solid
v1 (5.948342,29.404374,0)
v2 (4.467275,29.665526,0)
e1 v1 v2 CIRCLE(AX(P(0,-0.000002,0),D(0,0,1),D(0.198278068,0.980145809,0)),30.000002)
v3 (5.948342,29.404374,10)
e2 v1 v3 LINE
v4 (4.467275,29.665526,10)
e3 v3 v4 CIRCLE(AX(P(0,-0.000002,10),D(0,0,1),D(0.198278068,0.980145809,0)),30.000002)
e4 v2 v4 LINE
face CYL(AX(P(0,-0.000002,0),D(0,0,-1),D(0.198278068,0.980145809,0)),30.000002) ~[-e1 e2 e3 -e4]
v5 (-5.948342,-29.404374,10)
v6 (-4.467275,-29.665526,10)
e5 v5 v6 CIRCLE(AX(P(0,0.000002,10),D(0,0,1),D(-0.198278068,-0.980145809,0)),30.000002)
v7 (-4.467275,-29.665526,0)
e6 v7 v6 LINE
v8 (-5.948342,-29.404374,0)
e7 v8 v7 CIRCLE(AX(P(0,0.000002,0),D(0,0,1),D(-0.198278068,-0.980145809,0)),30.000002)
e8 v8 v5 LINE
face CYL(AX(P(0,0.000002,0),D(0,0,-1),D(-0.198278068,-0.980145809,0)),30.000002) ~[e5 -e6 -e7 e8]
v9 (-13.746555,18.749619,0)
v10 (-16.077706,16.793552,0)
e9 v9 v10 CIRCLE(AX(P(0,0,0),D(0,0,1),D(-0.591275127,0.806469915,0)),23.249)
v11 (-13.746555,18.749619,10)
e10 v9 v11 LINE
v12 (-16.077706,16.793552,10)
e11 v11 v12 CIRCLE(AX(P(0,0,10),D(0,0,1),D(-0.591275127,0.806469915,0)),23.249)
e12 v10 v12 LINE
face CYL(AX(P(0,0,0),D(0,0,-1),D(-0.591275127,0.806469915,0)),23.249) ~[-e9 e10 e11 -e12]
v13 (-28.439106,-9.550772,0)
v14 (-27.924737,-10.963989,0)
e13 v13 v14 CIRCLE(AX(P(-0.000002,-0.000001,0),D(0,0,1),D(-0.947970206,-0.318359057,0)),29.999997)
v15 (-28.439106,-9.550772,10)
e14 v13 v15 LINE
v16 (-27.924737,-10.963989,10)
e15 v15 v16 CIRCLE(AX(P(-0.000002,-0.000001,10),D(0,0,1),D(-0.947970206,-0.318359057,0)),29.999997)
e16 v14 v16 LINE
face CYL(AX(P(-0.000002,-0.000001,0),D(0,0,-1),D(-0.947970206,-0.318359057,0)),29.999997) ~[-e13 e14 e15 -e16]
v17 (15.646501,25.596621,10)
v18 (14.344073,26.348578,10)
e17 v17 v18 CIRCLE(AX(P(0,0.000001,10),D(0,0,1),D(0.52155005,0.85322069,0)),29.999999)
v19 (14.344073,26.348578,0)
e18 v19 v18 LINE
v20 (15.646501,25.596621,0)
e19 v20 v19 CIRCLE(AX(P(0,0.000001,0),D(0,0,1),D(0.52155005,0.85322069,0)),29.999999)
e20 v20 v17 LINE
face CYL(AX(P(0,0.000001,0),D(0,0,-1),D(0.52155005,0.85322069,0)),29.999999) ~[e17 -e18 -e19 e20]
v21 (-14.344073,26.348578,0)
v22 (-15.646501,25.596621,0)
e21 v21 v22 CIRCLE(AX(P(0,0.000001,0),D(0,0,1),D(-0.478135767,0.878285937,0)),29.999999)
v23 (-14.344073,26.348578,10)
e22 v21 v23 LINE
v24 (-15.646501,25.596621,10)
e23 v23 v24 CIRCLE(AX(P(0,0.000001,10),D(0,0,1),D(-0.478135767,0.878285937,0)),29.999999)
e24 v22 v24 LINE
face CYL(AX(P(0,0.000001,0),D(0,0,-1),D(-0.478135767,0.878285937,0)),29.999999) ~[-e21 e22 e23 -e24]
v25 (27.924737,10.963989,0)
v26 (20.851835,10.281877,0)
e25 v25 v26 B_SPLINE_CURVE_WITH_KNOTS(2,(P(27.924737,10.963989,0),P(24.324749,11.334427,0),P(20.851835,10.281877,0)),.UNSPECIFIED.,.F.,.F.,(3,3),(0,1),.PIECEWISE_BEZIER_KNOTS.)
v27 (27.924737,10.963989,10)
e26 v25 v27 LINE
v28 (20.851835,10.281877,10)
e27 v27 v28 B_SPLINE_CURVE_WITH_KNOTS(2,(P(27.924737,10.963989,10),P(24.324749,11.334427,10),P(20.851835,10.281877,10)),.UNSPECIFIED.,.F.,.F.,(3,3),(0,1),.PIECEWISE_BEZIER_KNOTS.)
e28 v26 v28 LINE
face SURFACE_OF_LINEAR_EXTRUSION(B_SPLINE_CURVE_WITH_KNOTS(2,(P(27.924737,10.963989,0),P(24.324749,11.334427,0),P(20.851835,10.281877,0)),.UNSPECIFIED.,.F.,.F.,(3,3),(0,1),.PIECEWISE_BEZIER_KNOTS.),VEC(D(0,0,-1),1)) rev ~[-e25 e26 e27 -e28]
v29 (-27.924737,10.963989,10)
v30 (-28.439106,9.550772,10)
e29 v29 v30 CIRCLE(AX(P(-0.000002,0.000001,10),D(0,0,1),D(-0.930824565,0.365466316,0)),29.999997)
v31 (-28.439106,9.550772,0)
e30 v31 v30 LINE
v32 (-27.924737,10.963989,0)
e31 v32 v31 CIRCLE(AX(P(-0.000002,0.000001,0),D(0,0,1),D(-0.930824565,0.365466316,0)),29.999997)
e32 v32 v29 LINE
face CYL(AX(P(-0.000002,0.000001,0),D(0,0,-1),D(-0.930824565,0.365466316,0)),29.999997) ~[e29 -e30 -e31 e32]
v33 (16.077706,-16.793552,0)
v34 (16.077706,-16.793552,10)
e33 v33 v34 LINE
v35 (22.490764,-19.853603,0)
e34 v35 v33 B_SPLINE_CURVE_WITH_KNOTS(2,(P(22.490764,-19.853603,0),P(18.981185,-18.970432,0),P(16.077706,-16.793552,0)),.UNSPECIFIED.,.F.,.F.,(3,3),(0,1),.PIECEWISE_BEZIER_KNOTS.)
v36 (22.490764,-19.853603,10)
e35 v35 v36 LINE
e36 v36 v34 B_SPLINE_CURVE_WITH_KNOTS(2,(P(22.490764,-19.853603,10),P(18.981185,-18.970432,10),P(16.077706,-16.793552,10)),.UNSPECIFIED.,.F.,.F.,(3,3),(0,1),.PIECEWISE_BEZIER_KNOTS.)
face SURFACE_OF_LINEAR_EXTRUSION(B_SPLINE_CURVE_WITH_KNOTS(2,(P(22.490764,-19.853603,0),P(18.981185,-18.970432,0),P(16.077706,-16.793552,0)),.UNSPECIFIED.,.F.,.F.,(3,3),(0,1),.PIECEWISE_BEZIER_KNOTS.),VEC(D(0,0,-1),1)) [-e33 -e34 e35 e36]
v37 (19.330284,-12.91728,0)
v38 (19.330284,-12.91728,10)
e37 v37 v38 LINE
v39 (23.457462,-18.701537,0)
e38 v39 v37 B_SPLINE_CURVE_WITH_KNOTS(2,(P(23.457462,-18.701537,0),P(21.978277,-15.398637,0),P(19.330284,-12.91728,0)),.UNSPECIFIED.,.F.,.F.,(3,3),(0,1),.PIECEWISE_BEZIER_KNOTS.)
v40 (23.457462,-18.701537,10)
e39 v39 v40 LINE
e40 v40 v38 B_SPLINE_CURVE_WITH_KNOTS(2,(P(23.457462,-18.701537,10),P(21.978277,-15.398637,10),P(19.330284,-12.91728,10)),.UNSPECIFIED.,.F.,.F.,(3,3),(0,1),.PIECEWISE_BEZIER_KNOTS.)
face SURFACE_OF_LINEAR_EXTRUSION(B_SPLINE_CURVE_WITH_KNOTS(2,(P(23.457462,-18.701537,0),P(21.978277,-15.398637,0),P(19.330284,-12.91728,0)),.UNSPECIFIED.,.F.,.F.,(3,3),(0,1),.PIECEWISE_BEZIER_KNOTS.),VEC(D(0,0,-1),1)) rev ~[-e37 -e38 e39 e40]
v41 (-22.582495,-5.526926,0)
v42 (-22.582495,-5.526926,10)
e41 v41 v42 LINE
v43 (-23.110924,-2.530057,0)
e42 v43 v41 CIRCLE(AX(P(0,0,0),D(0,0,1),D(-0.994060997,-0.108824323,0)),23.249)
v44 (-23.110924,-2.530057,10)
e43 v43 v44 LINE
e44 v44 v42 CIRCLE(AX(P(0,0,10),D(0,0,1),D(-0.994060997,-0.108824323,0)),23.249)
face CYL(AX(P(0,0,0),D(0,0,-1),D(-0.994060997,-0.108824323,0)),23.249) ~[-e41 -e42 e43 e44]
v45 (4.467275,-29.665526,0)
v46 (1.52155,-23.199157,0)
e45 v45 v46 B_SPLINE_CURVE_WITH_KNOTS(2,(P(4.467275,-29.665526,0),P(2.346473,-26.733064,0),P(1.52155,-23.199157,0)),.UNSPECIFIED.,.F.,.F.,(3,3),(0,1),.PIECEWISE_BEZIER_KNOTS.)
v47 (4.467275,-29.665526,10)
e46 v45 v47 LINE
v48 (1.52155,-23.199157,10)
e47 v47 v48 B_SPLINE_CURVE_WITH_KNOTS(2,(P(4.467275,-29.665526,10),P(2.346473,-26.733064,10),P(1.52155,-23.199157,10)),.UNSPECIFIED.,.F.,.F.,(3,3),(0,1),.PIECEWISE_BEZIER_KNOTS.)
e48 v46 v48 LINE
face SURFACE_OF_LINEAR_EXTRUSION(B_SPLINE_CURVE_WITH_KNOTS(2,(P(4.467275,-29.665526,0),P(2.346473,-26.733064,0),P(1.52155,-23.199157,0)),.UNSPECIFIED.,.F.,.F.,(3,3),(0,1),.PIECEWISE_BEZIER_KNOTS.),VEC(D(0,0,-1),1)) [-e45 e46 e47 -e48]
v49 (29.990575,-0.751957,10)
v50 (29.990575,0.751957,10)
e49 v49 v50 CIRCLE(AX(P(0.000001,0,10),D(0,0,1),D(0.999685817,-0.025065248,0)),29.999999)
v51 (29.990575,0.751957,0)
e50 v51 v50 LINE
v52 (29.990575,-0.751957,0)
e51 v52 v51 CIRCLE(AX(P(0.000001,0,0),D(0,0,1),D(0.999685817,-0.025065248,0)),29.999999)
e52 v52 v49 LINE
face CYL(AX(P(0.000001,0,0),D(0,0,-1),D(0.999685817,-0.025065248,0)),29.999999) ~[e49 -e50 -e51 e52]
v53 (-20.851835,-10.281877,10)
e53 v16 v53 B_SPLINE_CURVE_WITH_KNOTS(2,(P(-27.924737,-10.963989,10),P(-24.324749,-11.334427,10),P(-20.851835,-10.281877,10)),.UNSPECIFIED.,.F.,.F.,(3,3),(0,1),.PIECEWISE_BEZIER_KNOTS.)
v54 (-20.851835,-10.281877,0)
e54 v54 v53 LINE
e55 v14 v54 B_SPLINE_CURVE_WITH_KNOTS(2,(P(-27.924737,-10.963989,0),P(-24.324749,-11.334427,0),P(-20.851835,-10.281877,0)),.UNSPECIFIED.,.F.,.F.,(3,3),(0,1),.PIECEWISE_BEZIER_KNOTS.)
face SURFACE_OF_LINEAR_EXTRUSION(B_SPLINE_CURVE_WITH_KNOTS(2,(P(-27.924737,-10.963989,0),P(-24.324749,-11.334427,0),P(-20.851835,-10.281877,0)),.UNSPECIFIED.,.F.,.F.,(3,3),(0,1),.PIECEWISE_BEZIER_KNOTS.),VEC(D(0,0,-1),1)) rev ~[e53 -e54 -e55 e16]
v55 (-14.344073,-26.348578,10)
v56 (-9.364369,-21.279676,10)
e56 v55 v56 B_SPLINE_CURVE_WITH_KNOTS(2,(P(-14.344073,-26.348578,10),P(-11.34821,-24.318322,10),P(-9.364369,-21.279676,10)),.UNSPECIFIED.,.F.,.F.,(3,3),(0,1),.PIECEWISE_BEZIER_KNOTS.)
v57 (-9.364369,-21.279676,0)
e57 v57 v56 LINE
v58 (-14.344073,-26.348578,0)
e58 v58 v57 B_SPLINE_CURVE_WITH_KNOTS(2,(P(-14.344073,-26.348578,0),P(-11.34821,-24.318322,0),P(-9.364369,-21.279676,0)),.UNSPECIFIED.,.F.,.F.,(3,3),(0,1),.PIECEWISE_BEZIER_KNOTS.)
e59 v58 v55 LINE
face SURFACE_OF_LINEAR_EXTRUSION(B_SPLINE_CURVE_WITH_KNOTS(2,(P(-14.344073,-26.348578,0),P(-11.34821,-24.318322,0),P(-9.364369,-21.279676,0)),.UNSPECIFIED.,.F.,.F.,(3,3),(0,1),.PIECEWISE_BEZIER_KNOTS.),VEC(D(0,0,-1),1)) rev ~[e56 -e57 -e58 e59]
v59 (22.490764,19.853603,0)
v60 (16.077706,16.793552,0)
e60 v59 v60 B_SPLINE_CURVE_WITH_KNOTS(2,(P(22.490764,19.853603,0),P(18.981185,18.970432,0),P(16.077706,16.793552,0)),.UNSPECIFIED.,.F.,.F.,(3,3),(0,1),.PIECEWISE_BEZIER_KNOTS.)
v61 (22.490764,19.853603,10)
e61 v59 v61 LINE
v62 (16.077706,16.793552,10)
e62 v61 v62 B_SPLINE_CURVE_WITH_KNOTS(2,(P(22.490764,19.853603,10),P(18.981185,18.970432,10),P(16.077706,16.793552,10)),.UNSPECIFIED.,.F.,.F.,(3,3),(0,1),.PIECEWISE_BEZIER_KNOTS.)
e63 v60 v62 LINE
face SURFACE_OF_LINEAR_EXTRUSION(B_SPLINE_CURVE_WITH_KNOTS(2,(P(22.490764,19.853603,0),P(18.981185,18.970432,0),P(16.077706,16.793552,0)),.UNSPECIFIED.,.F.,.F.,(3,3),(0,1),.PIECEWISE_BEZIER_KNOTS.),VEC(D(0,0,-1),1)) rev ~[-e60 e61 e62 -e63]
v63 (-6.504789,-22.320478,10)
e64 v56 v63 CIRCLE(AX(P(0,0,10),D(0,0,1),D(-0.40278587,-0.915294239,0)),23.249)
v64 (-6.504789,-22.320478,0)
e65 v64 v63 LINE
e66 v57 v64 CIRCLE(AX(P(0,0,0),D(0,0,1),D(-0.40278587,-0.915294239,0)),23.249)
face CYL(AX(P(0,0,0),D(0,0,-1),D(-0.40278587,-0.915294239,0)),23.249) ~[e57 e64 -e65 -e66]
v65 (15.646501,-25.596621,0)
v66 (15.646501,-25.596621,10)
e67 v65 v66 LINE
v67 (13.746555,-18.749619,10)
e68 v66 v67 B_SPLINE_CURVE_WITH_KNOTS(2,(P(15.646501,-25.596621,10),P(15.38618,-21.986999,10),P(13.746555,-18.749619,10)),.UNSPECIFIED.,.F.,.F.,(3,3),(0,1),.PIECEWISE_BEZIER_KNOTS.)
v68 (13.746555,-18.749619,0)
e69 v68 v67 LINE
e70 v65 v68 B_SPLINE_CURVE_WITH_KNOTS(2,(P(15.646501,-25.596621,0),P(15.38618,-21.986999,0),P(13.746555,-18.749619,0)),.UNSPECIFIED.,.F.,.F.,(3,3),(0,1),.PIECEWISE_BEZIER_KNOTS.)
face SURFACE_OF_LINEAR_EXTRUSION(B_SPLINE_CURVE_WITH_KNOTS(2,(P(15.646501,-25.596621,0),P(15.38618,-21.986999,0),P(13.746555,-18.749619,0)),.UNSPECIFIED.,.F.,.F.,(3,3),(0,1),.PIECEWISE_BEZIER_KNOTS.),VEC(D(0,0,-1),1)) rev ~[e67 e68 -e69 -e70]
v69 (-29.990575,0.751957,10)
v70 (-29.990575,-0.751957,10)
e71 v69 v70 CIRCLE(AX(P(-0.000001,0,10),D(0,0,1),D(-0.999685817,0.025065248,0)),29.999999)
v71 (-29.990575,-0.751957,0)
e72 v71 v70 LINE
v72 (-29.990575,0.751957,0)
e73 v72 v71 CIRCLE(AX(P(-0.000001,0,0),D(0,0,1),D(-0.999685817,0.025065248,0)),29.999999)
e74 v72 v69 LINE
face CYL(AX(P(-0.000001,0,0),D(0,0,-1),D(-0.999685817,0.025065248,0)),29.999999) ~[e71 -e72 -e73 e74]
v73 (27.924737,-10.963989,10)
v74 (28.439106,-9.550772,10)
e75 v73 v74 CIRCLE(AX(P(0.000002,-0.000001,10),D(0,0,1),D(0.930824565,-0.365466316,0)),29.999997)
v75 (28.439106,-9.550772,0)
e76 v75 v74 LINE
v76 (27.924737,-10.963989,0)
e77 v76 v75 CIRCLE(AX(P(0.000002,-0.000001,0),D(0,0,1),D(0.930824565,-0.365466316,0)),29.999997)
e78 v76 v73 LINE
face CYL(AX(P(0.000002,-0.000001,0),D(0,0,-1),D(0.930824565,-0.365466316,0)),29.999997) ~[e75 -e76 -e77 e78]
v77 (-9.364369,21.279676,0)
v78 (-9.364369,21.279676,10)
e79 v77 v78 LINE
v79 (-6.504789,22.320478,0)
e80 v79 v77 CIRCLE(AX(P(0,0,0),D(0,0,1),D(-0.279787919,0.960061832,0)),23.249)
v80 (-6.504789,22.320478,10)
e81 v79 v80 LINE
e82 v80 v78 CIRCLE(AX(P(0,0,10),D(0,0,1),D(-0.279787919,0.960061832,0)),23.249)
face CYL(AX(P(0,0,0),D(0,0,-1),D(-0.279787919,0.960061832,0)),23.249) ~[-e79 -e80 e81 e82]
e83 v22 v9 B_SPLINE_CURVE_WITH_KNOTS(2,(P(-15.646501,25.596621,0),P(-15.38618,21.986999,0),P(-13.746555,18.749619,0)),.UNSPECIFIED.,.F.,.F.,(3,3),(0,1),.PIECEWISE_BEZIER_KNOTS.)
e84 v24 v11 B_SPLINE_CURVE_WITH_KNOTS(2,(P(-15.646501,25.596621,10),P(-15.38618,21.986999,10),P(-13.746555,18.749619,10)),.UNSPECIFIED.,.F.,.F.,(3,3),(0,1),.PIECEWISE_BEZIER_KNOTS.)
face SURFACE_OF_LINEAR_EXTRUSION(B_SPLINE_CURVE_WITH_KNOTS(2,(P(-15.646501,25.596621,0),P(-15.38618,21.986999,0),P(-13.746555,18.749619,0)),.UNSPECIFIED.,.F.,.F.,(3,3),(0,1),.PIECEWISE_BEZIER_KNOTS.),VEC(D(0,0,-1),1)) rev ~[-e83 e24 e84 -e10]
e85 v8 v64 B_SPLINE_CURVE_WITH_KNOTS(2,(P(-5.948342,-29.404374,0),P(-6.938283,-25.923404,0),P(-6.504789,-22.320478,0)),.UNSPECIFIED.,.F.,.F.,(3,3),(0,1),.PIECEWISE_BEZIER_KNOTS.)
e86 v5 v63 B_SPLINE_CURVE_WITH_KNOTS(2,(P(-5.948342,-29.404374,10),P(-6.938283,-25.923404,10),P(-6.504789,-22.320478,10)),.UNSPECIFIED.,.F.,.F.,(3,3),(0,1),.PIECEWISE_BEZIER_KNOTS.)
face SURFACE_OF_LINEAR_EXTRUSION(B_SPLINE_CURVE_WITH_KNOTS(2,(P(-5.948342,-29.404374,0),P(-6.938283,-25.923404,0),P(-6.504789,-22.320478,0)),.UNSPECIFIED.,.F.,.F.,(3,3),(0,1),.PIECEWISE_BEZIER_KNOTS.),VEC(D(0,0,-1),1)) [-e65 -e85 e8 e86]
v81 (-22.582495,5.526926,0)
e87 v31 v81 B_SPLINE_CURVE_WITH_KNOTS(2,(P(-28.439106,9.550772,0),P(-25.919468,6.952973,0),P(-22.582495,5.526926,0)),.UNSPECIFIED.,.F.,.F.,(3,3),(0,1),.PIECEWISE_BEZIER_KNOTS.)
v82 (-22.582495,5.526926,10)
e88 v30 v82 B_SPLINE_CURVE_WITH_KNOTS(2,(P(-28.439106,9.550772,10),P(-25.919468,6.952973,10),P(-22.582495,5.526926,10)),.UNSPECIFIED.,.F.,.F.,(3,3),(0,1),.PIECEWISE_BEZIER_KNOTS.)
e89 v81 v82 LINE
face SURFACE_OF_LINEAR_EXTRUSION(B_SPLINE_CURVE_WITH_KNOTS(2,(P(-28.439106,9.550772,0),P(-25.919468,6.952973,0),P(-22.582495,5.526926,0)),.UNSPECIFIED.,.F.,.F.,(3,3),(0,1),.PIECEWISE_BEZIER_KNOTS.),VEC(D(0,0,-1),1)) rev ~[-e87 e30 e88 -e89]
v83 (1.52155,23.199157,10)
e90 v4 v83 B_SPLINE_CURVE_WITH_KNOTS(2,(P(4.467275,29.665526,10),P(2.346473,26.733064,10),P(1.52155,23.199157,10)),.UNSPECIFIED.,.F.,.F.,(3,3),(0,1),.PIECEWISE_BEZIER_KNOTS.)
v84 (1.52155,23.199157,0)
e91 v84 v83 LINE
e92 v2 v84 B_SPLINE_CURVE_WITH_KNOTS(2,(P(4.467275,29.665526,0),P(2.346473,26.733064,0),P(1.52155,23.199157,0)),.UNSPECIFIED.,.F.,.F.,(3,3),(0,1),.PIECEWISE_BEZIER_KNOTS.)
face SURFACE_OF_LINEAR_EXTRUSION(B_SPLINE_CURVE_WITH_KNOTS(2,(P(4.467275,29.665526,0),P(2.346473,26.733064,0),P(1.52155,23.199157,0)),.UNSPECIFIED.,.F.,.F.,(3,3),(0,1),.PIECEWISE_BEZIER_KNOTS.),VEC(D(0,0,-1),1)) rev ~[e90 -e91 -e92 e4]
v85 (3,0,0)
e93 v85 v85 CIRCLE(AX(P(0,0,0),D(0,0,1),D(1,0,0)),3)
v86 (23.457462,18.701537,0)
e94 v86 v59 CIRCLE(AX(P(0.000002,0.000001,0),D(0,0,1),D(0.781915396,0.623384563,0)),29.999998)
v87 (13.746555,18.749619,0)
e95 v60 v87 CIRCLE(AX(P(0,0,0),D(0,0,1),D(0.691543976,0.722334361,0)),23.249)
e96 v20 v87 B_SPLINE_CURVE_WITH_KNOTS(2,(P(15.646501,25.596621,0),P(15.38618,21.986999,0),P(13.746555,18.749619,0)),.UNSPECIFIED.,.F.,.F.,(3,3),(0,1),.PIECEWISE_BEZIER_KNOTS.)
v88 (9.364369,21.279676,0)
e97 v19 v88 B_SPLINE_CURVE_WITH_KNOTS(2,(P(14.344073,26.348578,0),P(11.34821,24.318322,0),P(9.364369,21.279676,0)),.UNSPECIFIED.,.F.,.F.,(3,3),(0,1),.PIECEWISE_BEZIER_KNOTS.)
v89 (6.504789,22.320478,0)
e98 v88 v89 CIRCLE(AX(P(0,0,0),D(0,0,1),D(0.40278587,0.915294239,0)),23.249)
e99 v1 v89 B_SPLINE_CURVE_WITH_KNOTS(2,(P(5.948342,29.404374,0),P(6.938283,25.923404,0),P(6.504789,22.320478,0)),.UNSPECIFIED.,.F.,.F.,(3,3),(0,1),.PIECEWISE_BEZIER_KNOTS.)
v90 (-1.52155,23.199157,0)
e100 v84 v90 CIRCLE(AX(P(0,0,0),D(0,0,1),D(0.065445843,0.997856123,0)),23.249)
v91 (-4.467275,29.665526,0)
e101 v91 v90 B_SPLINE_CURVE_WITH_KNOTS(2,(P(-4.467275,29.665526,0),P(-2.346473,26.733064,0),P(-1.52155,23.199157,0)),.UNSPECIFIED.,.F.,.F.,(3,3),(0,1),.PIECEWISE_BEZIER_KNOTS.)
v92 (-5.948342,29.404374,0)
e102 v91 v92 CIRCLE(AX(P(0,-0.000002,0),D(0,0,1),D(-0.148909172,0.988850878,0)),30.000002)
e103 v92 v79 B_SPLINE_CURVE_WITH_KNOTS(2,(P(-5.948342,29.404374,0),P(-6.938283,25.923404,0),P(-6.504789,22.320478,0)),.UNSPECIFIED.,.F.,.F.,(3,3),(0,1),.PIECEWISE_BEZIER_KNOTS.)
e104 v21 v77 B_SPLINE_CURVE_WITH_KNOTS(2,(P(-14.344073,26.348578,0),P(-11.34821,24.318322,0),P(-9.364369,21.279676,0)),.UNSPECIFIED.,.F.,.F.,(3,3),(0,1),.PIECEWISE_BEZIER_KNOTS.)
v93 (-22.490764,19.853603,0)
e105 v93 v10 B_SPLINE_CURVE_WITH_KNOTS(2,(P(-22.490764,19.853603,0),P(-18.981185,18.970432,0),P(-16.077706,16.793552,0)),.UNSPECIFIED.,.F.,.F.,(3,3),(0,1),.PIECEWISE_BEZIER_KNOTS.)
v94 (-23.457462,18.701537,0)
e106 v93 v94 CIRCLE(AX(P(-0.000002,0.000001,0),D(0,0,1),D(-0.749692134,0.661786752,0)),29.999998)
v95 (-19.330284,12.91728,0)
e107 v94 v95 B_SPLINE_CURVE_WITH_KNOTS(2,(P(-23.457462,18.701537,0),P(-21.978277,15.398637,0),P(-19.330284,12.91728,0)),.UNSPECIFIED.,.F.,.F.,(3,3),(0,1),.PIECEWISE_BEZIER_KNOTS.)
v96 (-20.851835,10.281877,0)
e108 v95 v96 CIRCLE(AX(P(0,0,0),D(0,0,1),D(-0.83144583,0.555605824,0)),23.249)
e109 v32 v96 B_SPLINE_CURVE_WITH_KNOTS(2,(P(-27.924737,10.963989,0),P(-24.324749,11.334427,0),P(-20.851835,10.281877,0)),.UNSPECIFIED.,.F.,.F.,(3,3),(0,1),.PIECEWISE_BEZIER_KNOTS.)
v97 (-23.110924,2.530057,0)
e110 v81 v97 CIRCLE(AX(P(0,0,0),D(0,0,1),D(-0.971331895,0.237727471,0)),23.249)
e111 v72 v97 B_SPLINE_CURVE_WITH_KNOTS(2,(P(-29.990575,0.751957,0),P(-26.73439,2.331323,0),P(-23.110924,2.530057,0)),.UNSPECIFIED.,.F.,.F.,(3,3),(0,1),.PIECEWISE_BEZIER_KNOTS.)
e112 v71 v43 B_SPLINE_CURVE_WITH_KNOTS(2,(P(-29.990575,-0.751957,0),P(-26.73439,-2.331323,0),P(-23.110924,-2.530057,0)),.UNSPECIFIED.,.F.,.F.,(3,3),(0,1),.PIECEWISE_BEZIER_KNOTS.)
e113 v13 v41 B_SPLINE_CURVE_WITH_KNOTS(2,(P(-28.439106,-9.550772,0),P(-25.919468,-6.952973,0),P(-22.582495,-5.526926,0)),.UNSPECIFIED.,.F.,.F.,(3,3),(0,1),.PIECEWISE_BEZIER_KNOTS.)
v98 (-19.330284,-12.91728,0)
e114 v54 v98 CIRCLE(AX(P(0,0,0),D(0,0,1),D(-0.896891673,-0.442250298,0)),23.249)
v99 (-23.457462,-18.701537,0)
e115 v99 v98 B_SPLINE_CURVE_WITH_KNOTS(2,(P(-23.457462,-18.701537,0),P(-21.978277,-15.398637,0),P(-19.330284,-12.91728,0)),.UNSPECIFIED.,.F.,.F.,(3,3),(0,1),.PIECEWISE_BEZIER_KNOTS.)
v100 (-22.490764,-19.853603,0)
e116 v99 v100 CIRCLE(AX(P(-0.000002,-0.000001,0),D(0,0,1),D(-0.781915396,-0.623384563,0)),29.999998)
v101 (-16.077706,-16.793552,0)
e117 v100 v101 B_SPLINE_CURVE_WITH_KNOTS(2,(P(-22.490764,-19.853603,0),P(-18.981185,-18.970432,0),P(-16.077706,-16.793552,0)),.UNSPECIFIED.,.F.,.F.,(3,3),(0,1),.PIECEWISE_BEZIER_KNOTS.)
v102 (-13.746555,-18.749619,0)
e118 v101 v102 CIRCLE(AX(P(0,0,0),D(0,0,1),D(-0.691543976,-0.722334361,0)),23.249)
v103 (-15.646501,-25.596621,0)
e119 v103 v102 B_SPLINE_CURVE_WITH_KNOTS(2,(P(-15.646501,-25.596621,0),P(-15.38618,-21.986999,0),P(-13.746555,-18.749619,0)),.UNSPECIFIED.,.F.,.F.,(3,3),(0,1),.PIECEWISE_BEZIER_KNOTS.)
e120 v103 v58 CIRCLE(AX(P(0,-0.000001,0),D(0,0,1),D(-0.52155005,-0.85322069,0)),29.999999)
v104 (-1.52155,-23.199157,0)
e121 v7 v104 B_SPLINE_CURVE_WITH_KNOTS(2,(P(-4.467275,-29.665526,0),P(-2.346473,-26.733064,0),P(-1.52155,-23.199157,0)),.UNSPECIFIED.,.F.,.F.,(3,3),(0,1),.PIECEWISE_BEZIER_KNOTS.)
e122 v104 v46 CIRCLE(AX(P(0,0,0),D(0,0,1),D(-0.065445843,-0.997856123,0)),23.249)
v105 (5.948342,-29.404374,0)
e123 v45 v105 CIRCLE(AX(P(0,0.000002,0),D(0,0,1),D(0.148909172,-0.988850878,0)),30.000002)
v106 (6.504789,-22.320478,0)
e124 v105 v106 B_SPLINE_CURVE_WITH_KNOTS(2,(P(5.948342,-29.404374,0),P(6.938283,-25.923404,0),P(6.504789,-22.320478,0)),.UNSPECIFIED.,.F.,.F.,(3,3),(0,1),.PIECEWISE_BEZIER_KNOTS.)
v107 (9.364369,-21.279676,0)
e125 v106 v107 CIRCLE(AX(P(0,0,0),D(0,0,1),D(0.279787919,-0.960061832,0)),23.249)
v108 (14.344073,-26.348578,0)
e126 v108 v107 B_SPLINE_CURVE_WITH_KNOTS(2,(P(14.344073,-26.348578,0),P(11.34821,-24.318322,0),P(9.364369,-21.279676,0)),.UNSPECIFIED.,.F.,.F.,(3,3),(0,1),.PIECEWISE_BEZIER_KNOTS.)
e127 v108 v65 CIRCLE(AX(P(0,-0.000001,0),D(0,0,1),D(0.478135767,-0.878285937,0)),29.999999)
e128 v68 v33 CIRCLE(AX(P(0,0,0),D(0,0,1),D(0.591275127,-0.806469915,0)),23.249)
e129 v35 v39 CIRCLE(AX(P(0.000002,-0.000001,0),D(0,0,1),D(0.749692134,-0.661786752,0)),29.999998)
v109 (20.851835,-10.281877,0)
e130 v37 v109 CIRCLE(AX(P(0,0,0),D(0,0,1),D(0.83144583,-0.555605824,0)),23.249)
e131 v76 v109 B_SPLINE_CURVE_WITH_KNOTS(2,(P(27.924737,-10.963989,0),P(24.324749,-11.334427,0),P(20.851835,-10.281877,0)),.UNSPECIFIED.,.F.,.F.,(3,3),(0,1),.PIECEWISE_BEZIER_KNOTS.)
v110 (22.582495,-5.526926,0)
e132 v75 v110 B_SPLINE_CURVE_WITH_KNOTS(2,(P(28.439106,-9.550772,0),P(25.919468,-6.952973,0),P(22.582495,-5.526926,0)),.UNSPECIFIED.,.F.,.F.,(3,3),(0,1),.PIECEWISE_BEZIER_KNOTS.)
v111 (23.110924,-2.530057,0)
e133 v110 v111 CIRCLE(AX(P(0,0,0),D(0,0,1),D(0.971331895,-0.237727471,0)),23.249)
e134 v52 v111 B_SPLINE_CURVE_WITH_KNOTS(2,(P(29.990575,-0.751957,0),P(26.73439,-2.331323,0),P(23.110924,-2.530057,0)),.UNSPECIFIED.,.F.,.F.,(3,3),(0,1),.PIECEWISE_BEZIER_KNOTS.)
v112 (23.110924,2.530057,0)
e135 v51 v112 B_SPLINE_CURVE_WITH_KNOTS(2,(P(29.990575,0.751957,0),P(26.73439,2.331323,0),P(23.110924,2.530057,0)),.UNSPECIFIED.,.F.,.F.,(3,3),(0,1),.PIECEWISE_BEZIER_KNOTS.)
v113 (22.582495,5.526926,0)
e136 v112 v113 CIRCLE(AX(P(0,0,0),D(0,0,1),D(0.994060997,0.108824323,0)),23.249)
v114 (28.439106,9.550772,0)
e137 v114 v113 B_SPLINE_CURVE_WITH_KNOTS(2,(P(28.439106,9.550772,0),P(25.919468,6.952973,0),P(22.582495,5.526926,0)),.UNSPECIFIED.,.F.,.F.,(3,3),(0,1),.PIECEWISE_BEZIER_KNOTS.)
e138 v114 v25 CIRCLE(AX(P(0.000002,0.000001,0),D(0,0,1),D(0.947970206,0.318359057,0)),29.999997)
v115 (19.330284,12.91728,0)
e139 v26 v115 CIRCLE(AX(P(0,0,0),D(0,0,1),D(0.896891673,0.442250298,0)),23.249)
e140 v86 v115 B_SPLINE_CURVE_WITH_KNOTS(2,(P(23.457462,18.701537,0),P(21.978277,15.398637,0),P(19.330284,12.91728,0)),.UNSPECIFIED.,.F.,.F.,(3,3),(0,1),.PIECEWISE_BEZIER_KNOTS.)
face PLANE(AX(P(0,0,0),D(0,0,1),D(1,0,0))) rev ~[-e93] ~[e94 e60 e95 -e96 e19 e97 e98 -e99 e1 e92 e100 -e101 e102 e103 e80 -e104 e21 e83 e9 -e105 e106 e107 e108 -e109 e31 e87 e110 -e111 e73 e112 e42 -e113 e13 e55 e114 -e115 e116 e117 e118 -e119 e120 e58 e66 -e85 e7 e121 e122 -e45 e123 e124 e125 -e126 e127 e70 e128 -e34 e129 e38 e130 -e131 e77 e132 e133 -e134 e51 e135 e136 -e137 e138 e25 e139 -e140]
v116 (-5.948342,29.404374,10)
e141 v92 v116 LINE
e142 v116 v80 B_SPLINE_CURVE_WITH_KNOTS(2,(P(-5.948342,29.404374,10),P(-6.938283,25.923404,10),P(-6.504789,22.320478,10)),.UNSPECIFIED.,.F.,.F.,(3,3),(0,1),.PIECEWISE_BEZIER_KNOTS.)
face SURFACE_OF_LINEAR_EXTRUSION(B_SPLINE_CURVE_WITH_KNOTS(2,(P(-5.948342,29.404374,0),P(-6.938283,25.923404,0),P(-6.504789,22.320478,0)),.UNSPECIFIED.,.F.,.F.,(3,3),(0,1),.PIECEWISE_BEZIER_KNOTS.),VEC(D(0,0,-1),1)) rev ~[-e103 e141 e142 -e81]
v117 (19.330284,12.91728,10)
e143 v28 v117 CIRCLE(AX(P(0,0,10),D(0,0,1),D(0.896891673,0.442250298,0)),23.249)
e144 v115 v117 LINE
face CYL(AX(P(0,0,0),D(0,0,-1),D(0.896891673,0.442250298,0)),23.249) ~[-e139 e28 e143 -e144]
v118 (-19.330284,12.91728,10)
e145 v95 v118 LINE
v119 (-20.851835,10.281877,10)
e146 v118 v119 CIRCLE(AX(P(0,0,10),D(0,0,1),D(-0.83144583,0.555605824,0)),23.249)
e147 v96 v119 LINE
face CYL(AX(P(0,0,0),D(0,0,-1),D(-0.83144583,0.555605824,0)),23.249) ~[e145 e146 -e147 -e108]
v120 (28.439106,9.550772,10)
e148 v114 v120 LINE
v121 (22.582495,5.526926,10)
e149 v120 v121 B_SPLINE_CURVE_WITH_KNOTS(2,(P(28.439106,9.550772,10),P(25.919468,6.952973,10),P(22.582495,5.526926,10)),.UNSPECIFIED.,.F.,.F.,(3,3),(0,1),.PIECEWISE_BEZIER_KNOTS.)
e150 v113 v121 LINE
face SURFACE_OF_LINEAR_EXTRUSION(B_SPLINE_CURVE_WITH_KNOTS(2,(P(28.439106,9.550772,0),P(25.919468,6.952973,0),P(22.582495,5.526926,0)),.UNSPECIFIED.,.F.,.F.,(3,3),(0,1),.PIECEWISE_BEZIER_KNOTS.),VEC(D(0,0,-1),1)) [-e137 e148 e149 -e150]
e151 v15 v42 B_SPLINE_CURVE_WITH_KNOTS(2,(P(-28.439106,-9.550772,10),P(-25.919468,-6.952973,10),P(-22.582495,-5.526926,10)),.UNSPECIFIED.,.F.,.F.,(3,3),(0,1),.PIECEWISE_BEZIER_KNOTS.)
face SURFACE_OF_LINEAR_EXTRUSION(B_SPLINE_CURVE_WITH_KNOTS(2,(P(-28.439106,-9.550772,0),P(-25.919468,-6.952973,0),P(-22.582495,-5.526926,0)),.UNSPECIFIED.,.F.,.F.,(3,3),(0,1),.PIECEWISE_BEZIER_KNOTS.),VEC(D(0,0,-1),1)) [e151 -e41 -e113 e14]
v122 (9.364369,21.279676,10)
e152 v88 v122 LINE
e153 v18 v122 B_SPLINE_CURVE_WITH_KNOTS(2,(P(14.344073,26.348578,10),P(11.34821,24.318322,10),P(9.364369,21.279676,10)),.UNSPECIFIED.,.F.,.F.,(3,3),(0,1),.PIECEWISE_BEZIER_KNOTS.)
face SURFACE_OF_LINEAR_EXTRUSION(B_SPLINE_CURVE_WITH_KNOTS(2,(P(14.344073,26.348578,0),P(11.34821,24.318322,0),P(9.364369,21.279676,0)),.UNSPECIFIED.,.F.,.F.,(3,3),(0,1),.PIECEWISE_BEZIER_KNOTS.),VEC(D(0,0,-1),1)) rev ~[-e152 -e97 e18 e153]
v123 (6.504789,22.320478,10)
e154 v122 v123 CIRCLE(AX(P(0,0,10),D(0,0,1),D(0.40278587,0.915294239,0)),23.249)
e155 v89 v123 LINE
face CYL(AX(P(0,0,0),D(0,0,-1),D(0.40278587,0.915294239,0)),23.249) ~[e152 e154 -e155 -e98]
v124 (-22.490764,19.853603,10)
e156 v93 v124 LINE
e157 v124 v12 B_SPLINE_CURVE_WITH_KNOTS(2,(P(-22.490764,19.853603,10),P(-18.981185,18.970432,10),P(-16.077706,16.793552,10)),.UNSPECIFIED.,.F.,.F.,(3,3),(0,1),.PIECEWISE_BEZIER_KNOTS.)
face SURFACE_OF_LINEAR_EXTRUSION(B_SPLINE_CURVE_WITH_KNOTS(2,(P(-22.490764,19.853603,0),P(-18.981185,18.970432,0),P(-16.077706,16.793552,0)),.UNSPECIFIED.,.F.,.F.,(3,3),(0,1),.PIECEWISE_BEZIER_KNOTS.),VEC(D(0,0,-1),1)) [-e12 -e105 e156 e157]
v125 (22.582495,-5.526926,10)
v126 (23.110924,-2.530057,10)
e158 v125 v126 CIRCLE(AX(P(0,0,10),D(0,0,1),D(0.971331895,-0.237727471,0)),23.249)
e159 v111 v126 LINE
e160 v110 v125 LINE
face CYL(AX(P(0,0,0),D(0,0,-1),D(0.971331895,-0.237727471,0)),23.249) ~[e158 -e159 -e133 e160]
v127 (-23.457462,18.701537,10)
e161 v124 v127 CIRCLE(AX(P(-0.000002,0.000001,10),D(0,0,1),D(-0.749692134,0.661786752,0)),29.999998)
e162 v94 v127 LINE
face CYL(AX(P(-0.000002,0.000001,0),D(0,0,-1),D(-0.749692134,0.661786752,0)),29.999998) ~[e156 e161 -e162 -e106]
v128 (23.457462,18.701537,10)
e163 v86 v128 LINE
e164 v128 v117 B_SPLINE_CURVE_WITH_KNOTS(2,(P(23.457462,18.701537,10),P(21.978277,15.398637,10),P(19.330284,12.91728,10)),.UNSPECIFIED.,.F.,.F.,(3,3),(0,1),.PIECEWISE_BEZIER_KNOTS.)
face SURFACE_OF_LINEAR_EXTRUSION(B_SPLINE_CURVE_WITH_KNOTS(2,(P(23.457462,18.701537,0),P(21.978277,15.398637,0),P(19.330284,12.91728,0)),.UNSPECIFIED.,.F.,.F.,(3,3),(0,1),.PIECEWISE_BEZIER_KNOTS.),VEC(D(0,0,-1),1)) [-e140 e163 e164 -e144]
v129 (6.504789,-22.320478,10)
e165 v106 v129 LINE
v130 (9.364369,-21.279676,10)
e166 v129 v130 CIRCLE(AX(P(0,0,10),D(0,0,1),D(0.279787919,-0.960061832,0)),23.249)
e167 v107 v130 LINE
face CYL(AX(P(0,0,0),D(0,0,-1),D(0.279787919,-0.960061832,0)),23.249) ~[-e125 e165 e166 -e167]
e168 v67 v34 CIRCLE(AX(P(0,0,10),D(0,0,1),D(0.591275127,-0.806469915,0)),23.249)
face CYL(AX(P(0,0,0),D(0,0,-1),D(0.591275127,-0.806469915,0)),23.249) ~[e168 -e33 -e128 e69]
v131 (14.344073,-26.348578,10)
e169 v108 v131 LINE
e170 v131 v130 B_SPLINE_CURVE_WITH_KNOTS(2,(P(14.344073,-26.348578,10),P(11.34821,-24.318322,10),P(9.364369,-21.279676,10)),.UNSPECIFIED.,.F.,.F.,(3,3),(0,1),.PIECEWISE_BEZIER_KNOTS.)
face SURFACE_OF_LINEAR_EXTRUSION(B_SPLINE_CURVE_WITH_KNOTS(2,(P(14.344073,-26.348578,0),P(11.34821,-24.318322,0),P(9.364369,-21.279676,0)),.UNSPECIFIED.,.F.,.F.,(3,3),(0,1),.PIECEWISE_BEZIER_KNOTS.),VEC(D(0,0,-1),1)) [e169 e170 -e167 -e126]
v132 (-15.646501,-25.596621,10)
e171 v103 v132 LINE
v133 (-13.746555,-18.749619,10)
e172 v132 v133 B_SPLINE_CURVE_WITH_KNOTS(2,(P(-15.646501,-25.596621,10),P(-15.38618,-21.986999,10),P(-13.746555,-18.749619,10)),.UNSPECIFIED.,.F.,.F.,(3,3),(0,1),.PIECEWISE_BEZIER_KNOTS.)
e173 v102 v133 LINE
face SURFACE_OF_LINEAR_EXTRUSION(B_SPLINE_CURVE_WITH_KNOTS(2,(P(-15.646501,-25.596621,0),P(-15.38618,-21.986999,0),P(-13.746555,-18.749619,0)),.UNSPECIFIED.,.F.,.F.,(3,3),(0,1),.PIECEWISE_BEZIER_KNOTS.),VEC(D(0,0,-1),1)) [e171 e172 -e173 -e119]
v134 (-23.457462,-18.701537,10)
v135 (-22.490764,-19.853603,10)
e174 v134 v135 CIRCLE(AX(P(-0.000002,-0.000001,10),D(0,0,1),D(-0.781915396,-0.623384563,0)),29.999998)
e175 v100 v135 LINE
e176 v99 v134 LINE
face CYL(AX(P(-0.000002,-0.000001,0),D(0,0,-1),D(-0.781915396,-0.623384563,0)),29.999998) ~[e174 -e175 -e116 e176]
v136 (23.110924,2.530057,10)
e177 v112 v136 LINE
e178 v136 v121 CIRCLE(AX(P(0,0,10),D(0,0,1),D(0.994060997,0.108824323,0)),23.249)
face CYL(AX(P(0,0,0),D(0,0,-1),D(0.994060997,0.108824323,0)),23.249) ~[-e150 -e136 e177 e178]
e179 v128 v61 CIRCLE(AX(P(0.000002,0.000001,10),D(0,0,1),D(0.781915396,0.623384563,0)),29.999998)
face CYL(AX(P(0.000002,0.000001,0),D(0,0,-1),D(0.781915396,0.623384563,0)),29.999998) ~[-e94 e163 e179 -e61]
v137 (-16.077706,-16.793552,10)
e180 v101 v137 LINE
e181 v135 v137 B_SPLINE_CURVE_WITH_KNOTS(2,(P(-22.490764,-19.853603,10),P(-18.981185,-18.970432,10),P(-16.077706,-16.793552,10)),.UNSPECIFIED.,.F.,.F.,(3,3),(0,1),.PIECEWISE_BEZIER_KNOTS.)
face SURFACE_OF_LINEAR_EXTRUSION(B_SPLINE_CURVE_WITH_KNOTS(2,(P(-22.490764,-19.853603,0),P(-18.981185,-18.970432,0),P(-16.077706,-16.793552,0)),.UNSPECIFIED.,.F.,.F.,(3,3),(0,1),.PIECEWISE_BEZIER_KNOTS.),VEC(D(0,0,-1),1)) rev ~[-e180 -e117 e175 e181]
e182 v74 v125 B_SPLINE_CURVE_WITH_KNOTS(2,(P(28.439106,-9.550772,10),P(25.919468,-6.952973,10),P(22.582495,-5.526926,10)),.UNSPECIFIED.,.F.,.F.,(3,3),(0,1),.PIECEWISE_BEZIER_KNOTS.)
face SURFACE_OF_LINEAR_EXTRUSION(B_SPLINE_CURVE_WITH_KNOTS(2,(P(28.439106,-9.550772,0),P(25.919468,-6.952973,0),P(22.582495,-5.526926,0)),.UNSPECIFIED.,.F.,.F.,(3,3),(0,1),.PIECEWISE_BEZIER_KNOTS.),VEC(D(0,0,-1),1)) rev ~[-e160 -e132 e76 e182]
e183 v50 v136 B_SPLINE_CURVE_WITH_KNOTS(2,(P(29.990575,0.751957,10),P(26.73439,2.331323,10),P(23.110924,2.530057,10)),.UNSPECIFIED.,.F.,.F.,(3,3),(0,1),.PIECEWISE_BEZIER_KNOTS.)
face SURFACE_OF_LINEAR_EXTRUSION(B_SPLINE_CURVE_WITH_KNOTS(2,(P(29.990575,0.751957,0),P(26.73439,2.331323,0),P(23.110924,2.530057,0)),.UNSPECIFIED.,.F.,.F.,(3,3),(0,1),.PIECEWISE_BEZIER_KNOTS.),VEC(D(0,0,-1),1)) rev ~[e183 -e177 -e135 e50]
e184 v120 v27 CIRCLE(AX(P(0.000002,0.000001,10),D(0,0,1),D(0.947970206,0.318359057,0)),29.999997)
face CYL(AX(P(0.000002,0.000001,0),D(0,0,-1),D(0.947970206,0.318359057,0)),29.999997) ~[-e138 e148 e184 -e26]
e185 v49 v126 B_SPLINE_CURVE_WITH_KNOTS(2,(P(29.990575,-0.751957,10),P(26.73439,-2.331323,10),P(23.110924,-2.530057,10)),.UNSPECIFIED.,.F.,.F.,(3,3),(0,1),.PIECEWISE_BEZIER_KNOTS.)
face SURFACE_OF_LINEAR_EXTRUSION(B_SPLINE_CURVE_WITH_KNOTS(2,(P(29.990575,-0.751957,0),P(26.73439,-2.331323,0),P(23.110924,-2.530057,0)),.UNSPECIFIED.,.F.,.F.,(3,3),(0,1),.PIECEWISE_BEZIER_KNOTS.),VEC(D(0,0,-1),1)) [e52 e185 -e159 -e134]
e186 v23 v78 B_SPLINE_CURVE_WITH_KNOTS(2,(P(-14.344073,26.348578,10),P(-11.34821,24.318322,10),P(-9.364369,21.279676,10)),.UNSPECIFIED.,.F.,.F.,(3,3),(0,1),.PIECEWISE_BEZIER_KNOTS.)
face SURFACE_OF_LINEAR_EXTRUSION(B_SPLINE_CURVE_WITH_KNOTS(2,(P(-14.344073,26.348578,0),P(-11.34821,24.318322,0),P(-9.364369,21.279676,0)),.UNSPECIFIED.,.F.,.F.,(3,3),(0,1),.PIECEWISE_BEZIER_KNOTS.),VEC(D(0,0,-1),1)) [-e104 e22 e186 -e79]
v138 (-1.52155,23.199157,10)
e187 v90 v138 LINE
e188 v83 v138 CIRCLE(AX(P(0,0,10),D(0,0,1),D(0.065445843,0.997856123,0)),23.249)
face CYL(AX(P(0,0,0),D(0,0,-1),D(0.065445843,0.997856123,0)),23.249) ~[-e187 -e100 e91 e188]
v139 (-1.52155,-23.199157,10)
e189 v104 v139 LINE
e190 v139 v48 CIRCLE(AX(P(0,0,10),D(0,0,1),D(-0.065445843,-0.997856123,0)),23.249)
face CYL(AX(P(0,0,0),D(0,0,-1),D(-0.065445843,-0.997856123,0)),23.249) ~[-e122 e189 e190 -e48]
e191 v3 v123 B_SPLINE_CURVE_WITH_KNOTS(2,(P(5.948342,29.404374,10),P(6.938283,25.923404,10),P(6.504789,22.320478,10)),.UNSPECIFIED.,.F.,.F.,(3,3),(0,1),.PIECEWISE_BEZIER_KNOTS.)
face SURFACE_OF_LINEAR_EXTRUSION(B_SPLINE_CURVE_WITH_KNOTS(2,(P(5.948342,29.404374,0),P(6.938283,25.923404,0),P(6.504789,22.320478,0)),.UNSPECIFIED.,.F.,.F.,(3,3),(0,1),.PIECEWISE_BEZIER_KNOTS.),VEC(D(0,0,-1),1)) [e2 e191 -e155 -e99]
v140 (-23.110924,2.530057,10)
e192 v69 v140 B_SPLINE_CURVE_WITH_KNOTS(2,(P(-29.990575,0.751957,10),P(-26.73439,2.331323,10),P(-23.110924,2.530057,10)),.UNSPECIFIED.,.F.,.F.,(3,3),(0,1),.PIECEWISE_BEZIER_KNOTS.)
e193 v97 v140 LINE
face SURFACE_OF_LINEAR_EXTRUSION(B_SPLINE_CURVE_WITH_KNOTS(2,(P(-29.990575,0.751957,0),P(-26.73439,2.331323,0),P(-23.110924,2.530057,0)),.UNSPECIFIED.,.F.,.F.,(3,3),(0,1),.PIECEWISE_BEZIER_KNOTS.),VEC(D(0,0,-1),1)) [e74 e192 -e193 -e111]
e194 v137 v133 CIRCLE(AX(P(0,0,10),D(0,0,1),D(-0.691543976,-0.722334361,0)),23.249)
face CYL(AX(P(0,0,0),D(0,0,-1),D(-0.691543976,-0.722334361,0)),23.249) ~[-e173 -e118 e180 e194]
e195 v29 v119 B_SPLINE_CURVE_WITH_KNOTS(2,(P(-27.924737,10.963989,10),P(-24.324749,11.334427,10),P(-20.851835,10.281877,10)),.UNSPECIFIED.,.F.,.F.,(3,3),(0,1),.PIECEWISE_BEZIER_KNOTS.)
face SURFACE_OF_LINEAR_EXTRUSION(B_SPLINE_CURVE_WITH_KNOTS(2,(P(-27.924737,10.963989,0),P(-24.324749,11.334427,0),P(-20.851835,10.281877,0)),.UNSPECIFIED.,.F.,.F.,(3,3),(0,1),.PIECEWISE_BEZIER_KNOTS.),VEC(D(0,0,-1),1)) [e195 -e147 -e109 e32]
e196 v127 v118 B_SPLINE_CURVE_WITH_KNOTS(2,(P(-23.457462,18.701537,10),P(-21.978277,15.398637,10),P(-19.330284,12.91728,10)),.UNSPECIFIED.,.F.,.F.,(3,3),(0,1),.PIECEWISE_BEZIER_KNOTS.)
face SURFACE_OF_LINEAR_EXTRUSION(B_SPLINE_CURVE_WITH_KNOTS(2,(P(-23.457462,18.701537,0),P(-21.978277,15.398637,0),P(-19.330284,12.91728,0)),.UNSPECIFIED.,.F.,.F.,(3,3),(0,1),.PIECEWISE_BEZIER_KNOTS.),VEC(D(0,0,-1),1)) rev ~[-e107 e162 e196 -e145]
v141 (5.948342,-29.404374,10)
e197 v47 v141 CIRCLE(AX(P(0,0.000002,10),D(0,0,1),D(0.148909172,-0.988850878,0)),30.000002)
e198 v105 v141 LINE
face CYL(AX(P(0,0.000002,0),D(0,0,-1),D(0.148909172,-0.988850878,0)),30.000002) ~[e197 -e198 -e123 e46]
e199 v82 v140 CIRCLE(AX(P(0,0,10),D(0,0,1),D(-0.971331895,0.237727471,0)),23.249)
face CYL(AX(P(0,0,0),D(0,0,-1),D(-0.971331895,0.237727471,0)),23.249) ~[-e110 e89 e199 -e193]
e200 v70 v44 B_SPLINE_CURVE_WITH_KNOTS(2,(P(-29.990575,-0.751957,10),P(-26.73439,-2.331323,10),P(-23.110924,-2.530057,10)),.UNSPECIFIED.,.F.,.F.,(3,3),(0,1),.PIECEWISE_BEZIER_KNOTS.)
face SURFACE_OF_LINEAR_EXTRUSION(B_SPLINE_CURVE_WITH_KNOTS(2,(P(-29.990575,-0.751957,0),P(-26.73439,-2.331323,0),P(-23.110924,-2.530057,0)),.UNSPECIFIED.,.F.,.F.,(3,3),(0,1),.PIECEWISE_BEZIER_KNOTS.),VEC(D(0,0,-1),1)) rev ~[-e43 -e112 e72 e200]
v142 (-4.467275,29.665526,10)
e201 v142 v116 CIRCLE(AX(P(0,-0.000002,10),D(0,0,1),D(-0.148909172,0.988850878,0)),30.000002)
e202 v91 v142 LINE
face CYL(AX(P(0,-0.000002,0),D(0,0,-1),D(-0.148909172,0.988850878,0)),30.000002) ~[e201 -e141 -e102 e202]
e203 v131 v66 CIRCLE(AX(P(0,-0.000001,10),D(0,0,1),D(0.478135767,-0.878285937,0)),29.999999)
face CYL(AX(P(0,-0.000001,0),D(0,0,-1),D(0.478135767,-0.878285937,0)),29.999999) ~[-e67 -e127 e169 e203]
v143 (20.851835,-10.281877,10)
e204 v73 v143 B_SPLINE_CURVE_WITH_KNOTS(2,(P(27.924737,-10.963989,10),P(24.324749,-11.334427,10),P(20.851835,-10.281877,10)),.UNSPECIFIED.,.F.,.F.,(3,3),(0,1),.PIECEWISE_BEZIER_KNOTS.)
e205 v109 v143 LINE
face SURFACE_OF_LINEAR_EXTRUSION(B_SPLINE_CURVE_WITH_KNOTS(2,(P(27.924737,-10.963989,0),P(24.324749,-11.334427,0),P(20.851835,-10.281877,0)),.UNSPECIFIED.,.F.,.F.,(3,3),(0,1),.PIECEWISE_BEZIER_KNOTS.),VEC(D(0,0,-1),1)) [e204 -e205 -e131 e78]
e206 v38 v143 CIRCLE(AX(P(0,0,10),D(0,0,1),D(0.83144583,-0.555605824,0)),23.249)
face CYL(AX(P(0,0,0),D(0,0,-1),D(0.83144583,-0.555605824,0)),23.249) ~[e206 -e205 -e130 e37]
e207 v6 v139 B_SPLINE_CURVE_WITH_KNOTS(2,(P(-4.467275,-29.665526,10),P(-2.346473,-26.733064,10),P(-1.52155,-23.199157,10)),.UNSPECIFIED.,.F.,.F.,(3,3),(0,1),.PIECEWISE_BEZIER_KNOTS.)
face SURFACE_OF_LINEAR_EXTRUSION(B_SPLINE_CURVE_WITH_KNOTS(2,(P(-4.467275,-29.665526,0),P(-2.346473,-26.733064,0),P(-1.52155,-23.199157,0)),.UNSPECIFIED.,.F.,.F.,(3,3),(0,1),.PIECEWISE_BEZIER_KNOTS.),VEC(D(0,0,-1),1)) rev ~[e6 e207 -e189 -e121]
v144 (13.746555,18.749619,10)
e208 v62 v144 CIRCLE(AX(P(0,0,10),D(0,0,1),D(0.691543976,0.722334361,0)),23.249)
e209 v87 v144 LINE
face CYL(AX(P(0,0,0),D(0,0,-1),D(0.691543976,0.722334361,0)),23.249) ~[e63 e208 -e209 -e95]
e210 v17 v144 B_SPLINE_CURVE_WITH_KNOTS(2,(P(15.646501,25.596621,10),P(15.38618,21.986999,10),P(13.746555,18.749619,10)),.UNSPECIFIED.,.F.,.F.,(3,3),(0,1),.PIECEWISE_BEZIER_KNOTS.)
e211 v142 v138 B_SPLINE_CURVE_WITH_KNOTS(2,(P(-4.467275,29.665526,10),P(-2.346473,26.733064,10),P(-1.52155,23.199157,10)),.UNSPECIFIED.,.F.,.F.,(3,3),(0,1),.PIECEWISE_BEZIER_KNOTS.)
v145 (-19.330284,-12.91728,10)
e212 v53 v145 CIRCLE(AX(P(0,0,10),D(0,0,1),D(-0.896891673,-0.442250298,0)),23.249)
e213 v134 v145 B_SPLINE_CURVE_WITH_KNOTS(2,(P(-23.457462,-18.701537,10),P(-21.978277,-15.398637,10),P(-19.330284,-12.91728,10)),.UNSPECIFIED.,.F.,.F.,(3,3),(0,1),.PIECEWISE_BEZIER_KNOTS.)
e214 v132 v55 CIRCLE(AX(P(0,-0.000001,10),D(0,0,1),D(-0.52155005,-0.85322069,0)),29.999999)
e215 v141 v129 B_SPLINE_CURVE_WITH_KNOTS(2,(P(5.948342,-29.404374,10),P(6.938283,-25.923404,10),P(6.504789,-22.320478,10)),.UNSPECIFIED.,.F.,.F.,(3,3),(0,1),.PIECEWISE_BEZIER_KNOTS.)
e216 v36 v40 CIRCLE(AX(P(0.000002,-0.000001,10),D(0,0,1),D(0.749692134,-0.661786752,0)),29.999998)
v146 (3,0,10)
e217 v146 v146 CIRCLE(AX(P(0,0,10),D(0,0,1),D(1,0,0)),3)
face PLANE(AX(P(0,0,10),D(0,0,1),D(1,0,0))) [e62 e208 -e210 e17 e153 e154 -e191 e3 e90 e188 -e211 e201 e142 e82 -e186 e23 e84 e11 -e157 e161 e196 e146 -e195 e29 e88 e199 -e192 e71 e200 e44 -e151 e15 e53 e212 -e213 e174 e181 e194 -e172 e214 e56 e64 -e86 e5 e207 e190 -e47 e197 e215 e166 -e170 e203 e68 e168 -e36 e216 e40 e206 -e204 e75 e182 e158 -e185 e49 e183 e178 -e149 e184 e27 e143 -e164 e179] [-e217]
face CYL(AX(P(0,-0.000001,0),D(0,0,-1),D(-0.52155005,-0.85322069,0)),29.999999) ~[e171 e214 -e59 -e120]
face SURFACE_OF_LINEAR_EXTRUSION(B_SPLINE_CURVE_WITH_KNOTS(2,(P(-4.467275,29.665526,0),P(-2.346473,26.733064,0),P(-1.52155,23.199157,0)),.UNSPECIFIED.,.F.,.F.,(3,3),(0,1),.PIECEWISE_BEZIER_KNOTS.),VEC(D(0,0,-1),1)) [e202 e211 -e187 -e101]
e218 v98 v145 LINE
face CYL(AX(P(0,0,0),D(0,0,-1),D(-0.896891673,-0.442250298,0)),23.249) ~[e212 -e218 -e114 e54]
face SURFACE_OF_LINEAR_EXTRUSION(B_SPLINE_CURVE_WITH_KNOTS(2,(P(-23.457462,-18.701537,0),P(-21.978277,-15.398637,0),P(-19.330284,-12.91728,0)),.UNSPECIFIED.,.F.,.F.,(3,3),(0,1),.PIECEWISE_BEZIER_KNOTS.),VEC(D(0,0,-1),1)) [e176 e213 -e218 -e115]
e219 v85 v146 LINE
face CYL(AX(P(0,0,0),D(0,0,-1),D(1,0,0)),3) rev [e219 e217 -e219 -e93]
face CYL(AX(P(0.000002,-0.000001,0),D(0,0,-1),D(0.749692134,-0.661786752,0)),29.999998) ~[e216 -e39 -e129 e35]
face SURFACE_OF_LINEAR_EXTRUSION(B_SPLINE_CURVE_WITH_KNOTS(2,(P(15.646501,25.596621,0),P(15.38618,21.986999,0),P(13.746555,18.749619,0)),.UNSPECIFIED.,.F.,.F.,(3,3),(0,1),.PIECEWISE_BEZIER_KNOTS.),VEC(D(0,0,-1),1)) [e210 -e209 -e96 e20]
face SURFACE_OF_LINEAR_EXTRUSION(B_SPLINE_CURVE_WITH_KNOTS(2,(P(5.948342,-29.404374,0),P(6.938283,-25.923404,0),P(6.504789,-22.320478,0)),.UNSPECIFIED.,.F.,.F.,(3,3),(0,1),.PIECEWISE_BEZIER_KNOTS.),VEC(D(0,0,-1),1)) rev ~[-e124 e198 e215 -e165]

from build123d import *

# Parameters (mm, degrees)
SKETCH1_R           = 3
BOSS_EXTRUDE1_DEPTH = 10


with BuildPart() as part:
    # Sketch1 → Boss-Extrude1 (new body)
    with BuildSketch(Plane.XY):
        with BuildLine():
            ThreePointArc((-6.504789318, 22.320477525), (-7.951626312, 21.846913741), (-9.364368684, 21.279675753))
            add(Edge.make_bspline(
                [(-14.34407304, 26.348578114), (-11.348209695, 24.318322412), (-9.364368684, 21.279675753)],
                knots=[0, 0, 0, 1, 1, 1], degree=2))
            ThreePointArc((-14.34407304, 26.348578114), (-15, 25.980762114), (-15.646501481, 25.596620703))
            add(Edge.make_bspline(
                [(-15.646501481, 25.596620703), (-15.386180139, 21.98699909), (-13.746555444, 18.749619047)],
                knots=[0, 0, 0, 1, 1, 1], degree=2))
            ThreePointArc((-13.746555444, 18.749619047), (-14.944169138, 17.809767258), (-16.077705902, 16.793551558))
            add(Edge.make_bspline(
                [(-22.49076405, 19.853602505), (-18.981185027, 18.970431814), (-16.077705902, 16.793551558)],
                knots=[0, 0, 0, 1, 1, 1], degree=2))
            ThreePointArc((-22.49076405, 19.853602505), (-22.981333294, 19.283628291), (-23.457461864, 18.701536913))
            add(Edge.make_bspline(
                [(-23.457461864, 18.701536913), (-21.978276518, 15.398637262), (-19.330284106, 12.917279798)],
                knots=[0, 0, 0, 1, 1, 1], degree=2))
            ThreePointArc((-19.330284106, 12.917279798), (-20.134224613, 11.6245), (-20.851834506, 10.281877199))
            add(Edge.make_bspline(
                [(-27.924736988, 10.963989426), (-24.324749311, 11.334427165), (-20.851834506, 10.281877199)],
                knots=[0, 0, 0, 1, 1, 1], degree=2))
            ThreePointArc((-27.924736988, 10.963989426), (-28.190778624, 10.2606043), (-28.439106151, 9.550771765))
            add(Edge.make_bspline(
                [(-28.439106151, 9.550771765), (-25.919468385, 6.95297252), (-22.58249522, 5.526925967)],
                knots=[0, 0, 0, 1, 1, 1], degree=2))
            ThreePointArc((-22.58249522, 5.526925967), (-22.89579545, 4.037146483), (-23.110924128, 2.530056705))
            add(Edge.make_bspline(
                [(-29.99057452, 0.751957411), (-26.734389834, 2.331323322), (-23.110924128, 2.530056705)],
                knots=[0, 0, 0, 1, 1, 1], degree=2))
            ThreePointArc((-29.99057452, 0.751957411), (-30, 0), (-29.99057452, -0.751957411))
            add(Edge.make_bspline(
                [(-29.99057452, -0.751957411), (-26.734389834, -2.331323322), (-23.110924128, -2.530056705)],
                knots=[0, 0, 0, 1, 1, 1], degree=2))
            ThreePointArc((-23.110924128, -2.530056705), (-22.89579545, -4.037146483), (-22.58249522, -5.526925967))
            add(Edge.make_bspline(
                [(-28.439106151, -9.550771765), (-25.919468385, -6.95297252), (-22.58249522, -5.526925967)],
                knots=[0, 0, 0, 1, 1, 1], degree=2))
            ThreePointArc((-28.439106151, -9.550771765), (-28.190778624, -10.2606043), (-27.924736988, -10.963989426))
            add(Edge.make_bspline(
                [(-27.924736988, -10.963989426), (-24.324749311, -11.334427165), (-20.851834506, -10.281877199)],
                knots=[0, 0, 0, 1, 1, 1], degree=2))
            ThreePointArc((-20.851834506, -10.281877199), (-20.134224613, -11.6245), (-19.330284106, -12.917279798))
            add(Edge.make_bspline(
                [(-23.457461864, -18.701536913), (-21.978276518, -15.398637262), (-19.330284106, -12.917279798)],
                knots=[0, 0, 0, 1, 1, 1], degree=2))
            ThreePointArc((-23.457461864, -18.701536913), (-22.981333294, -19.283628291), (-22.49076405, -19.853602505))
            add(Edge.make_bspline(
                [(-22.49076405, -19.853602505), (-18.981185027, -18.970431814), (-16.077705902, -16.793551558)],
                knots=[0, 0, 0, 1, 1, 1], degree=2))
            ThreePointArc((-16.077705902, -16.793551558), (-14.944169138, -17.809767258), (-13.746555444, -18.749619047))
            add(Edge.make_bspline(
                [(-15.646501481, -25.596620703), (-15.386180139, -21.98699909), (-13.746555444, -18.749619047)],
                knots=[0, 0, 0, 1, 1, 1], degree=2))
            ThreePointArc((-15.646501481, -25.596620703), (-15, -25.980762114), (-14.34407304, -26.348578114))
            add(Edge.make_bspline(
                [(-14.34407304, -26.348578114), (-11.348209695, -24.318322412), (-9.364368684, -21.279675753)],
                knots=[0, 0, 0, 1, 1, 1], degree=2))
            ThreePointArc((-9.364368684, -21.279675753), (-7.951626312, -21.846913741), (-6.504789318, -22.320477525))
            add(Edge.make_bspline(
                [(-5.948342101, -29.404374271), (-6.938283358, -25.923404334), (-6.504789318, -22.320477525)],
                knots=[0, 0, 0, 1, 1, 1], degree=2))
            ThreePointArc((-5.948342101, -29.404374271), (-5.20944533, -29.54423259), (-4.467275124, -29.665526339))
            add(Edge.make_bspline(
                [(-4.467275124, -29.665526339), (-2.346472793, -26.733064427), (-1.5215504, -23.199156997)],
                knots=[0, 0, 0, 1, 1, 1], degree=2))
            ThreePointArc((-1.5215504, -23.199156997), (0, -23.249), (1.5215504, -23.199156997))
            add(Edge.make_bspline(
                [(4.467275124, -29.665526339), (2.346472793, -26.733064427), (1.5215504, -23.199156997)],
                knots=[0, 0, 0, 1, 1, 1], degree=2))
            ThreePointArc((4.467275124, -29.665526339), (5.20944533, -29.54423259), (5.948342101, -29.404374271))
            add(Edge.make_bspline(
                [(5.948342101, -29.404374271), (6.938283358, -25.923404334), (6.504789318, -22.320477525)],
                knots=[0, 0, 0, 1, 1, 1], degree=2))
            ThreePointArc((6.504789318, -22.320477525), (7.951626312, -21.846913741), (9.364368684, -21.279675753))
            add(Edge.make_bspline(
                [(14.34407304, -26.348578114), (11.348209695, -24.318322412), (9.364368684, -21.279675753)],
                knots=[0, 0, 0, 1, 1, 1], degree=2))
            ThreePointArc((14.34407304, -26.348578114), (15, -25.980762114), (15.646501481, -25.596620703))
            add(Edge.make_bspline(
                [(15.646501481, -25.596620703), (15.386180139, -21.98699909), (13.746555444, -18.749619047)],
                knots=[0, 0, 0, 1, 1, 1], degree=2))
            ThreePointArc((13.746555444, -18.749619047), (14.944169138, -17.809767258), (16.077705902, -16.793551558))
            add(Edge.make_bspline(
                [(22.49076405, -19.853602505), (18.981185027, -18.970431814), (16.077705902, -16.793551558)],
                knots=[0, 0, 0, 1, 1, 1], degree=2))
            ThreePointArc((22.49076405, -19.853602505), (22.981333294, -19.283628291), (23.457461864, -18.701536913))
            add(Edge.make_bspline(
                [(23.457461864, -18.701536913), (21.978276518, -15.398637262), (19.330284106, -12.917279798)],
                knots=[0, 0, 0, 1, 1, 1], degree=2))
            ThreePointArc((19.330284106, -12.917279798), (20.134224613, -11.6245), (20.851834506, -10.281877199))
            add(Edge.make_bspline(
                [(27.924736988, -10.963989426), (24.324749311, -11.334427165), (20.851834506, -10.281877199)],
                knots=[0, 0, 0, 1, 1, 1], degree=2))
            ThreePointArc((27.924736988, -10.963989426), (28.190778624, -10.2606043), (28.439106151, -9.550771765))
            add(Edge.make_bspline(
                [(28.439106151, -9.550771765), (25.919468385, -6.95297252), (22.58249522, -5.526925967)],
                knots=[0, 0, 0, 1, 1, 1], degree=2))
            ThreePointArc((22.58249522, -5.526925967), (22.89579545, -4.037146483), (23.110924128, -2.530056705))
            add(Edge.make_bspline(
                [(29.99057452, -0.751957411), (26.734389834, -2.331323322), (23.110924128, -2.530056705)],
                knots=[0, 0, 0, 1, 1, 1], degree=2))
            ThreePointArc((29.99057452, -0.751957411), (30, 0), (29.99057452, 0.751957411))
            add(Edge.make_bspline(
                [(29.99057452, 0.751957411), (26.734389834, 2.331323322), (23.110924128, 2.530056705)],
                knots=[0, 0, 0, 1, 1, 1], degree=2))
            ThreePointArc((23.110924128, 2.530056705), (22.89579545, 4.037146483), (22.58249522, 5.526925967))
            add(Edge.make_bspline(
                [(28.439106151, 9.550771765), (25.919468385, 6.95297252), (22.58249522, 5.526925967)],
                knots=[0, 0, 0, 1, 1, 1], degree=2))
            ThreePointArc((28.439106151, 9.550771765), (28.190778624, 10.2606043), (27.924736988, 10.963989426))
            add(Edge.make_bspline(
                [(27.924736988, 10.963989426), (24.324749311, 11.334427165), (20.851834506, 10.281877199)],
                knots=[0, 0, 0, 1, 1, 1], degree=2))
            ThreePointArc((20.851834506, 10.281877199), (20.134224613, 11.6245), (19.330284106, 12.917279798))
            add(Edge.make_bspline(
                [(23.457461864, 18.701536913), (21.978276518, 15.398637262), (19.330284106, 12.917279798)],
                knots=[0, 0, 0, 1, 1, 1], degree=2))
            ThreePointArc((23.457461864, 18.701536913), (22.981333294, 19.283628291), (22.49076405, 19.853602505))
            add(Edge.make_bspline(
                [(22.49076405, 19.853602505), (18.981185027, 18.970431814), (16.077705902, 16.793551558)],
                knots=[0, 0, 0, 1, 1, 1], degree=2))
            ThreePointArc((16.077705902, 16.793551558), (14.944169138, 17.809767258), (13.746555444, 18.749619047))
            add(Edge.make_bspline(
                [(15.646501481, 25.596620703), (15.386180139, 21.98699909), (13.746555444, 18.749619047)],
                knots=[0, 0, 0, 1, 1, 1], degree=2))
            ThreePointArc((15.646501481, 25.596620703), (15, 25.980762114), (14.34407304, 26.348578114))
            add(Edge.make_bspline(
                [(14.34407304, 26.348578114), (11.348209695, 24.318322412), (9.364368684, 21.279675753)],
                knots=[0, 0, 0, 1, 1, 1], degree=2))
            ThreePointArc((9.364368684, 21.279675753), (7.951626312, 21.846913741), (6.504789318, 22.320477525))
            add(Edge.make_bspline(
                [(5.948342101, 29.404374271), (6.938283358, 25.923404334), (6.504789318, 22.320477525)],
                knots=[0, 0, 0, 1, 1, 1], degree=2))
            ThreePointArc((5.948342101, 29.404374271), (5.20944533, 29.54423259), (4.467275124, 29.665526339))
            add(Edge.make_bspline(
                [(4.467275124, 29.665526339), (2.346472793, 26.733064427), (1.5215504, 23.199156997)],
                knots=[0, 0, 0, 1, 1, 1], degree=2))
            ThreePointArc((1.5215504, 23.199156997), (0, 23.249), (-1.5215504, 23.199156997))
            add(Edge.make_bspline(
                [(-4.467275124, 29.665526339), (-2.346472793, 26.733064427), (-1.5215504, 23.199156997)],
                knots=[0, 0, 0, 1, 1, 1], degree=2))
            ThreePointArc((-4.467275124, 29.665526339), (-5.20944533, 29.54423259), (-5.948342101, 29.404374271))
            add(Edge.make_bspline(
                [(-5.948342101, 29.404374271), (-6.938283358, 25.923404334), (-6.504789318, 22.320477525)],
                knots=[0, 0, 0, 1, 1, 1], degree=2))
        make_face()
        Circle(SKETCH1_R, mode=Mode.SUBTRACT)
    extrude(amount=BOSS_EXTRUDE1_DEPTH)


solid = part.part
